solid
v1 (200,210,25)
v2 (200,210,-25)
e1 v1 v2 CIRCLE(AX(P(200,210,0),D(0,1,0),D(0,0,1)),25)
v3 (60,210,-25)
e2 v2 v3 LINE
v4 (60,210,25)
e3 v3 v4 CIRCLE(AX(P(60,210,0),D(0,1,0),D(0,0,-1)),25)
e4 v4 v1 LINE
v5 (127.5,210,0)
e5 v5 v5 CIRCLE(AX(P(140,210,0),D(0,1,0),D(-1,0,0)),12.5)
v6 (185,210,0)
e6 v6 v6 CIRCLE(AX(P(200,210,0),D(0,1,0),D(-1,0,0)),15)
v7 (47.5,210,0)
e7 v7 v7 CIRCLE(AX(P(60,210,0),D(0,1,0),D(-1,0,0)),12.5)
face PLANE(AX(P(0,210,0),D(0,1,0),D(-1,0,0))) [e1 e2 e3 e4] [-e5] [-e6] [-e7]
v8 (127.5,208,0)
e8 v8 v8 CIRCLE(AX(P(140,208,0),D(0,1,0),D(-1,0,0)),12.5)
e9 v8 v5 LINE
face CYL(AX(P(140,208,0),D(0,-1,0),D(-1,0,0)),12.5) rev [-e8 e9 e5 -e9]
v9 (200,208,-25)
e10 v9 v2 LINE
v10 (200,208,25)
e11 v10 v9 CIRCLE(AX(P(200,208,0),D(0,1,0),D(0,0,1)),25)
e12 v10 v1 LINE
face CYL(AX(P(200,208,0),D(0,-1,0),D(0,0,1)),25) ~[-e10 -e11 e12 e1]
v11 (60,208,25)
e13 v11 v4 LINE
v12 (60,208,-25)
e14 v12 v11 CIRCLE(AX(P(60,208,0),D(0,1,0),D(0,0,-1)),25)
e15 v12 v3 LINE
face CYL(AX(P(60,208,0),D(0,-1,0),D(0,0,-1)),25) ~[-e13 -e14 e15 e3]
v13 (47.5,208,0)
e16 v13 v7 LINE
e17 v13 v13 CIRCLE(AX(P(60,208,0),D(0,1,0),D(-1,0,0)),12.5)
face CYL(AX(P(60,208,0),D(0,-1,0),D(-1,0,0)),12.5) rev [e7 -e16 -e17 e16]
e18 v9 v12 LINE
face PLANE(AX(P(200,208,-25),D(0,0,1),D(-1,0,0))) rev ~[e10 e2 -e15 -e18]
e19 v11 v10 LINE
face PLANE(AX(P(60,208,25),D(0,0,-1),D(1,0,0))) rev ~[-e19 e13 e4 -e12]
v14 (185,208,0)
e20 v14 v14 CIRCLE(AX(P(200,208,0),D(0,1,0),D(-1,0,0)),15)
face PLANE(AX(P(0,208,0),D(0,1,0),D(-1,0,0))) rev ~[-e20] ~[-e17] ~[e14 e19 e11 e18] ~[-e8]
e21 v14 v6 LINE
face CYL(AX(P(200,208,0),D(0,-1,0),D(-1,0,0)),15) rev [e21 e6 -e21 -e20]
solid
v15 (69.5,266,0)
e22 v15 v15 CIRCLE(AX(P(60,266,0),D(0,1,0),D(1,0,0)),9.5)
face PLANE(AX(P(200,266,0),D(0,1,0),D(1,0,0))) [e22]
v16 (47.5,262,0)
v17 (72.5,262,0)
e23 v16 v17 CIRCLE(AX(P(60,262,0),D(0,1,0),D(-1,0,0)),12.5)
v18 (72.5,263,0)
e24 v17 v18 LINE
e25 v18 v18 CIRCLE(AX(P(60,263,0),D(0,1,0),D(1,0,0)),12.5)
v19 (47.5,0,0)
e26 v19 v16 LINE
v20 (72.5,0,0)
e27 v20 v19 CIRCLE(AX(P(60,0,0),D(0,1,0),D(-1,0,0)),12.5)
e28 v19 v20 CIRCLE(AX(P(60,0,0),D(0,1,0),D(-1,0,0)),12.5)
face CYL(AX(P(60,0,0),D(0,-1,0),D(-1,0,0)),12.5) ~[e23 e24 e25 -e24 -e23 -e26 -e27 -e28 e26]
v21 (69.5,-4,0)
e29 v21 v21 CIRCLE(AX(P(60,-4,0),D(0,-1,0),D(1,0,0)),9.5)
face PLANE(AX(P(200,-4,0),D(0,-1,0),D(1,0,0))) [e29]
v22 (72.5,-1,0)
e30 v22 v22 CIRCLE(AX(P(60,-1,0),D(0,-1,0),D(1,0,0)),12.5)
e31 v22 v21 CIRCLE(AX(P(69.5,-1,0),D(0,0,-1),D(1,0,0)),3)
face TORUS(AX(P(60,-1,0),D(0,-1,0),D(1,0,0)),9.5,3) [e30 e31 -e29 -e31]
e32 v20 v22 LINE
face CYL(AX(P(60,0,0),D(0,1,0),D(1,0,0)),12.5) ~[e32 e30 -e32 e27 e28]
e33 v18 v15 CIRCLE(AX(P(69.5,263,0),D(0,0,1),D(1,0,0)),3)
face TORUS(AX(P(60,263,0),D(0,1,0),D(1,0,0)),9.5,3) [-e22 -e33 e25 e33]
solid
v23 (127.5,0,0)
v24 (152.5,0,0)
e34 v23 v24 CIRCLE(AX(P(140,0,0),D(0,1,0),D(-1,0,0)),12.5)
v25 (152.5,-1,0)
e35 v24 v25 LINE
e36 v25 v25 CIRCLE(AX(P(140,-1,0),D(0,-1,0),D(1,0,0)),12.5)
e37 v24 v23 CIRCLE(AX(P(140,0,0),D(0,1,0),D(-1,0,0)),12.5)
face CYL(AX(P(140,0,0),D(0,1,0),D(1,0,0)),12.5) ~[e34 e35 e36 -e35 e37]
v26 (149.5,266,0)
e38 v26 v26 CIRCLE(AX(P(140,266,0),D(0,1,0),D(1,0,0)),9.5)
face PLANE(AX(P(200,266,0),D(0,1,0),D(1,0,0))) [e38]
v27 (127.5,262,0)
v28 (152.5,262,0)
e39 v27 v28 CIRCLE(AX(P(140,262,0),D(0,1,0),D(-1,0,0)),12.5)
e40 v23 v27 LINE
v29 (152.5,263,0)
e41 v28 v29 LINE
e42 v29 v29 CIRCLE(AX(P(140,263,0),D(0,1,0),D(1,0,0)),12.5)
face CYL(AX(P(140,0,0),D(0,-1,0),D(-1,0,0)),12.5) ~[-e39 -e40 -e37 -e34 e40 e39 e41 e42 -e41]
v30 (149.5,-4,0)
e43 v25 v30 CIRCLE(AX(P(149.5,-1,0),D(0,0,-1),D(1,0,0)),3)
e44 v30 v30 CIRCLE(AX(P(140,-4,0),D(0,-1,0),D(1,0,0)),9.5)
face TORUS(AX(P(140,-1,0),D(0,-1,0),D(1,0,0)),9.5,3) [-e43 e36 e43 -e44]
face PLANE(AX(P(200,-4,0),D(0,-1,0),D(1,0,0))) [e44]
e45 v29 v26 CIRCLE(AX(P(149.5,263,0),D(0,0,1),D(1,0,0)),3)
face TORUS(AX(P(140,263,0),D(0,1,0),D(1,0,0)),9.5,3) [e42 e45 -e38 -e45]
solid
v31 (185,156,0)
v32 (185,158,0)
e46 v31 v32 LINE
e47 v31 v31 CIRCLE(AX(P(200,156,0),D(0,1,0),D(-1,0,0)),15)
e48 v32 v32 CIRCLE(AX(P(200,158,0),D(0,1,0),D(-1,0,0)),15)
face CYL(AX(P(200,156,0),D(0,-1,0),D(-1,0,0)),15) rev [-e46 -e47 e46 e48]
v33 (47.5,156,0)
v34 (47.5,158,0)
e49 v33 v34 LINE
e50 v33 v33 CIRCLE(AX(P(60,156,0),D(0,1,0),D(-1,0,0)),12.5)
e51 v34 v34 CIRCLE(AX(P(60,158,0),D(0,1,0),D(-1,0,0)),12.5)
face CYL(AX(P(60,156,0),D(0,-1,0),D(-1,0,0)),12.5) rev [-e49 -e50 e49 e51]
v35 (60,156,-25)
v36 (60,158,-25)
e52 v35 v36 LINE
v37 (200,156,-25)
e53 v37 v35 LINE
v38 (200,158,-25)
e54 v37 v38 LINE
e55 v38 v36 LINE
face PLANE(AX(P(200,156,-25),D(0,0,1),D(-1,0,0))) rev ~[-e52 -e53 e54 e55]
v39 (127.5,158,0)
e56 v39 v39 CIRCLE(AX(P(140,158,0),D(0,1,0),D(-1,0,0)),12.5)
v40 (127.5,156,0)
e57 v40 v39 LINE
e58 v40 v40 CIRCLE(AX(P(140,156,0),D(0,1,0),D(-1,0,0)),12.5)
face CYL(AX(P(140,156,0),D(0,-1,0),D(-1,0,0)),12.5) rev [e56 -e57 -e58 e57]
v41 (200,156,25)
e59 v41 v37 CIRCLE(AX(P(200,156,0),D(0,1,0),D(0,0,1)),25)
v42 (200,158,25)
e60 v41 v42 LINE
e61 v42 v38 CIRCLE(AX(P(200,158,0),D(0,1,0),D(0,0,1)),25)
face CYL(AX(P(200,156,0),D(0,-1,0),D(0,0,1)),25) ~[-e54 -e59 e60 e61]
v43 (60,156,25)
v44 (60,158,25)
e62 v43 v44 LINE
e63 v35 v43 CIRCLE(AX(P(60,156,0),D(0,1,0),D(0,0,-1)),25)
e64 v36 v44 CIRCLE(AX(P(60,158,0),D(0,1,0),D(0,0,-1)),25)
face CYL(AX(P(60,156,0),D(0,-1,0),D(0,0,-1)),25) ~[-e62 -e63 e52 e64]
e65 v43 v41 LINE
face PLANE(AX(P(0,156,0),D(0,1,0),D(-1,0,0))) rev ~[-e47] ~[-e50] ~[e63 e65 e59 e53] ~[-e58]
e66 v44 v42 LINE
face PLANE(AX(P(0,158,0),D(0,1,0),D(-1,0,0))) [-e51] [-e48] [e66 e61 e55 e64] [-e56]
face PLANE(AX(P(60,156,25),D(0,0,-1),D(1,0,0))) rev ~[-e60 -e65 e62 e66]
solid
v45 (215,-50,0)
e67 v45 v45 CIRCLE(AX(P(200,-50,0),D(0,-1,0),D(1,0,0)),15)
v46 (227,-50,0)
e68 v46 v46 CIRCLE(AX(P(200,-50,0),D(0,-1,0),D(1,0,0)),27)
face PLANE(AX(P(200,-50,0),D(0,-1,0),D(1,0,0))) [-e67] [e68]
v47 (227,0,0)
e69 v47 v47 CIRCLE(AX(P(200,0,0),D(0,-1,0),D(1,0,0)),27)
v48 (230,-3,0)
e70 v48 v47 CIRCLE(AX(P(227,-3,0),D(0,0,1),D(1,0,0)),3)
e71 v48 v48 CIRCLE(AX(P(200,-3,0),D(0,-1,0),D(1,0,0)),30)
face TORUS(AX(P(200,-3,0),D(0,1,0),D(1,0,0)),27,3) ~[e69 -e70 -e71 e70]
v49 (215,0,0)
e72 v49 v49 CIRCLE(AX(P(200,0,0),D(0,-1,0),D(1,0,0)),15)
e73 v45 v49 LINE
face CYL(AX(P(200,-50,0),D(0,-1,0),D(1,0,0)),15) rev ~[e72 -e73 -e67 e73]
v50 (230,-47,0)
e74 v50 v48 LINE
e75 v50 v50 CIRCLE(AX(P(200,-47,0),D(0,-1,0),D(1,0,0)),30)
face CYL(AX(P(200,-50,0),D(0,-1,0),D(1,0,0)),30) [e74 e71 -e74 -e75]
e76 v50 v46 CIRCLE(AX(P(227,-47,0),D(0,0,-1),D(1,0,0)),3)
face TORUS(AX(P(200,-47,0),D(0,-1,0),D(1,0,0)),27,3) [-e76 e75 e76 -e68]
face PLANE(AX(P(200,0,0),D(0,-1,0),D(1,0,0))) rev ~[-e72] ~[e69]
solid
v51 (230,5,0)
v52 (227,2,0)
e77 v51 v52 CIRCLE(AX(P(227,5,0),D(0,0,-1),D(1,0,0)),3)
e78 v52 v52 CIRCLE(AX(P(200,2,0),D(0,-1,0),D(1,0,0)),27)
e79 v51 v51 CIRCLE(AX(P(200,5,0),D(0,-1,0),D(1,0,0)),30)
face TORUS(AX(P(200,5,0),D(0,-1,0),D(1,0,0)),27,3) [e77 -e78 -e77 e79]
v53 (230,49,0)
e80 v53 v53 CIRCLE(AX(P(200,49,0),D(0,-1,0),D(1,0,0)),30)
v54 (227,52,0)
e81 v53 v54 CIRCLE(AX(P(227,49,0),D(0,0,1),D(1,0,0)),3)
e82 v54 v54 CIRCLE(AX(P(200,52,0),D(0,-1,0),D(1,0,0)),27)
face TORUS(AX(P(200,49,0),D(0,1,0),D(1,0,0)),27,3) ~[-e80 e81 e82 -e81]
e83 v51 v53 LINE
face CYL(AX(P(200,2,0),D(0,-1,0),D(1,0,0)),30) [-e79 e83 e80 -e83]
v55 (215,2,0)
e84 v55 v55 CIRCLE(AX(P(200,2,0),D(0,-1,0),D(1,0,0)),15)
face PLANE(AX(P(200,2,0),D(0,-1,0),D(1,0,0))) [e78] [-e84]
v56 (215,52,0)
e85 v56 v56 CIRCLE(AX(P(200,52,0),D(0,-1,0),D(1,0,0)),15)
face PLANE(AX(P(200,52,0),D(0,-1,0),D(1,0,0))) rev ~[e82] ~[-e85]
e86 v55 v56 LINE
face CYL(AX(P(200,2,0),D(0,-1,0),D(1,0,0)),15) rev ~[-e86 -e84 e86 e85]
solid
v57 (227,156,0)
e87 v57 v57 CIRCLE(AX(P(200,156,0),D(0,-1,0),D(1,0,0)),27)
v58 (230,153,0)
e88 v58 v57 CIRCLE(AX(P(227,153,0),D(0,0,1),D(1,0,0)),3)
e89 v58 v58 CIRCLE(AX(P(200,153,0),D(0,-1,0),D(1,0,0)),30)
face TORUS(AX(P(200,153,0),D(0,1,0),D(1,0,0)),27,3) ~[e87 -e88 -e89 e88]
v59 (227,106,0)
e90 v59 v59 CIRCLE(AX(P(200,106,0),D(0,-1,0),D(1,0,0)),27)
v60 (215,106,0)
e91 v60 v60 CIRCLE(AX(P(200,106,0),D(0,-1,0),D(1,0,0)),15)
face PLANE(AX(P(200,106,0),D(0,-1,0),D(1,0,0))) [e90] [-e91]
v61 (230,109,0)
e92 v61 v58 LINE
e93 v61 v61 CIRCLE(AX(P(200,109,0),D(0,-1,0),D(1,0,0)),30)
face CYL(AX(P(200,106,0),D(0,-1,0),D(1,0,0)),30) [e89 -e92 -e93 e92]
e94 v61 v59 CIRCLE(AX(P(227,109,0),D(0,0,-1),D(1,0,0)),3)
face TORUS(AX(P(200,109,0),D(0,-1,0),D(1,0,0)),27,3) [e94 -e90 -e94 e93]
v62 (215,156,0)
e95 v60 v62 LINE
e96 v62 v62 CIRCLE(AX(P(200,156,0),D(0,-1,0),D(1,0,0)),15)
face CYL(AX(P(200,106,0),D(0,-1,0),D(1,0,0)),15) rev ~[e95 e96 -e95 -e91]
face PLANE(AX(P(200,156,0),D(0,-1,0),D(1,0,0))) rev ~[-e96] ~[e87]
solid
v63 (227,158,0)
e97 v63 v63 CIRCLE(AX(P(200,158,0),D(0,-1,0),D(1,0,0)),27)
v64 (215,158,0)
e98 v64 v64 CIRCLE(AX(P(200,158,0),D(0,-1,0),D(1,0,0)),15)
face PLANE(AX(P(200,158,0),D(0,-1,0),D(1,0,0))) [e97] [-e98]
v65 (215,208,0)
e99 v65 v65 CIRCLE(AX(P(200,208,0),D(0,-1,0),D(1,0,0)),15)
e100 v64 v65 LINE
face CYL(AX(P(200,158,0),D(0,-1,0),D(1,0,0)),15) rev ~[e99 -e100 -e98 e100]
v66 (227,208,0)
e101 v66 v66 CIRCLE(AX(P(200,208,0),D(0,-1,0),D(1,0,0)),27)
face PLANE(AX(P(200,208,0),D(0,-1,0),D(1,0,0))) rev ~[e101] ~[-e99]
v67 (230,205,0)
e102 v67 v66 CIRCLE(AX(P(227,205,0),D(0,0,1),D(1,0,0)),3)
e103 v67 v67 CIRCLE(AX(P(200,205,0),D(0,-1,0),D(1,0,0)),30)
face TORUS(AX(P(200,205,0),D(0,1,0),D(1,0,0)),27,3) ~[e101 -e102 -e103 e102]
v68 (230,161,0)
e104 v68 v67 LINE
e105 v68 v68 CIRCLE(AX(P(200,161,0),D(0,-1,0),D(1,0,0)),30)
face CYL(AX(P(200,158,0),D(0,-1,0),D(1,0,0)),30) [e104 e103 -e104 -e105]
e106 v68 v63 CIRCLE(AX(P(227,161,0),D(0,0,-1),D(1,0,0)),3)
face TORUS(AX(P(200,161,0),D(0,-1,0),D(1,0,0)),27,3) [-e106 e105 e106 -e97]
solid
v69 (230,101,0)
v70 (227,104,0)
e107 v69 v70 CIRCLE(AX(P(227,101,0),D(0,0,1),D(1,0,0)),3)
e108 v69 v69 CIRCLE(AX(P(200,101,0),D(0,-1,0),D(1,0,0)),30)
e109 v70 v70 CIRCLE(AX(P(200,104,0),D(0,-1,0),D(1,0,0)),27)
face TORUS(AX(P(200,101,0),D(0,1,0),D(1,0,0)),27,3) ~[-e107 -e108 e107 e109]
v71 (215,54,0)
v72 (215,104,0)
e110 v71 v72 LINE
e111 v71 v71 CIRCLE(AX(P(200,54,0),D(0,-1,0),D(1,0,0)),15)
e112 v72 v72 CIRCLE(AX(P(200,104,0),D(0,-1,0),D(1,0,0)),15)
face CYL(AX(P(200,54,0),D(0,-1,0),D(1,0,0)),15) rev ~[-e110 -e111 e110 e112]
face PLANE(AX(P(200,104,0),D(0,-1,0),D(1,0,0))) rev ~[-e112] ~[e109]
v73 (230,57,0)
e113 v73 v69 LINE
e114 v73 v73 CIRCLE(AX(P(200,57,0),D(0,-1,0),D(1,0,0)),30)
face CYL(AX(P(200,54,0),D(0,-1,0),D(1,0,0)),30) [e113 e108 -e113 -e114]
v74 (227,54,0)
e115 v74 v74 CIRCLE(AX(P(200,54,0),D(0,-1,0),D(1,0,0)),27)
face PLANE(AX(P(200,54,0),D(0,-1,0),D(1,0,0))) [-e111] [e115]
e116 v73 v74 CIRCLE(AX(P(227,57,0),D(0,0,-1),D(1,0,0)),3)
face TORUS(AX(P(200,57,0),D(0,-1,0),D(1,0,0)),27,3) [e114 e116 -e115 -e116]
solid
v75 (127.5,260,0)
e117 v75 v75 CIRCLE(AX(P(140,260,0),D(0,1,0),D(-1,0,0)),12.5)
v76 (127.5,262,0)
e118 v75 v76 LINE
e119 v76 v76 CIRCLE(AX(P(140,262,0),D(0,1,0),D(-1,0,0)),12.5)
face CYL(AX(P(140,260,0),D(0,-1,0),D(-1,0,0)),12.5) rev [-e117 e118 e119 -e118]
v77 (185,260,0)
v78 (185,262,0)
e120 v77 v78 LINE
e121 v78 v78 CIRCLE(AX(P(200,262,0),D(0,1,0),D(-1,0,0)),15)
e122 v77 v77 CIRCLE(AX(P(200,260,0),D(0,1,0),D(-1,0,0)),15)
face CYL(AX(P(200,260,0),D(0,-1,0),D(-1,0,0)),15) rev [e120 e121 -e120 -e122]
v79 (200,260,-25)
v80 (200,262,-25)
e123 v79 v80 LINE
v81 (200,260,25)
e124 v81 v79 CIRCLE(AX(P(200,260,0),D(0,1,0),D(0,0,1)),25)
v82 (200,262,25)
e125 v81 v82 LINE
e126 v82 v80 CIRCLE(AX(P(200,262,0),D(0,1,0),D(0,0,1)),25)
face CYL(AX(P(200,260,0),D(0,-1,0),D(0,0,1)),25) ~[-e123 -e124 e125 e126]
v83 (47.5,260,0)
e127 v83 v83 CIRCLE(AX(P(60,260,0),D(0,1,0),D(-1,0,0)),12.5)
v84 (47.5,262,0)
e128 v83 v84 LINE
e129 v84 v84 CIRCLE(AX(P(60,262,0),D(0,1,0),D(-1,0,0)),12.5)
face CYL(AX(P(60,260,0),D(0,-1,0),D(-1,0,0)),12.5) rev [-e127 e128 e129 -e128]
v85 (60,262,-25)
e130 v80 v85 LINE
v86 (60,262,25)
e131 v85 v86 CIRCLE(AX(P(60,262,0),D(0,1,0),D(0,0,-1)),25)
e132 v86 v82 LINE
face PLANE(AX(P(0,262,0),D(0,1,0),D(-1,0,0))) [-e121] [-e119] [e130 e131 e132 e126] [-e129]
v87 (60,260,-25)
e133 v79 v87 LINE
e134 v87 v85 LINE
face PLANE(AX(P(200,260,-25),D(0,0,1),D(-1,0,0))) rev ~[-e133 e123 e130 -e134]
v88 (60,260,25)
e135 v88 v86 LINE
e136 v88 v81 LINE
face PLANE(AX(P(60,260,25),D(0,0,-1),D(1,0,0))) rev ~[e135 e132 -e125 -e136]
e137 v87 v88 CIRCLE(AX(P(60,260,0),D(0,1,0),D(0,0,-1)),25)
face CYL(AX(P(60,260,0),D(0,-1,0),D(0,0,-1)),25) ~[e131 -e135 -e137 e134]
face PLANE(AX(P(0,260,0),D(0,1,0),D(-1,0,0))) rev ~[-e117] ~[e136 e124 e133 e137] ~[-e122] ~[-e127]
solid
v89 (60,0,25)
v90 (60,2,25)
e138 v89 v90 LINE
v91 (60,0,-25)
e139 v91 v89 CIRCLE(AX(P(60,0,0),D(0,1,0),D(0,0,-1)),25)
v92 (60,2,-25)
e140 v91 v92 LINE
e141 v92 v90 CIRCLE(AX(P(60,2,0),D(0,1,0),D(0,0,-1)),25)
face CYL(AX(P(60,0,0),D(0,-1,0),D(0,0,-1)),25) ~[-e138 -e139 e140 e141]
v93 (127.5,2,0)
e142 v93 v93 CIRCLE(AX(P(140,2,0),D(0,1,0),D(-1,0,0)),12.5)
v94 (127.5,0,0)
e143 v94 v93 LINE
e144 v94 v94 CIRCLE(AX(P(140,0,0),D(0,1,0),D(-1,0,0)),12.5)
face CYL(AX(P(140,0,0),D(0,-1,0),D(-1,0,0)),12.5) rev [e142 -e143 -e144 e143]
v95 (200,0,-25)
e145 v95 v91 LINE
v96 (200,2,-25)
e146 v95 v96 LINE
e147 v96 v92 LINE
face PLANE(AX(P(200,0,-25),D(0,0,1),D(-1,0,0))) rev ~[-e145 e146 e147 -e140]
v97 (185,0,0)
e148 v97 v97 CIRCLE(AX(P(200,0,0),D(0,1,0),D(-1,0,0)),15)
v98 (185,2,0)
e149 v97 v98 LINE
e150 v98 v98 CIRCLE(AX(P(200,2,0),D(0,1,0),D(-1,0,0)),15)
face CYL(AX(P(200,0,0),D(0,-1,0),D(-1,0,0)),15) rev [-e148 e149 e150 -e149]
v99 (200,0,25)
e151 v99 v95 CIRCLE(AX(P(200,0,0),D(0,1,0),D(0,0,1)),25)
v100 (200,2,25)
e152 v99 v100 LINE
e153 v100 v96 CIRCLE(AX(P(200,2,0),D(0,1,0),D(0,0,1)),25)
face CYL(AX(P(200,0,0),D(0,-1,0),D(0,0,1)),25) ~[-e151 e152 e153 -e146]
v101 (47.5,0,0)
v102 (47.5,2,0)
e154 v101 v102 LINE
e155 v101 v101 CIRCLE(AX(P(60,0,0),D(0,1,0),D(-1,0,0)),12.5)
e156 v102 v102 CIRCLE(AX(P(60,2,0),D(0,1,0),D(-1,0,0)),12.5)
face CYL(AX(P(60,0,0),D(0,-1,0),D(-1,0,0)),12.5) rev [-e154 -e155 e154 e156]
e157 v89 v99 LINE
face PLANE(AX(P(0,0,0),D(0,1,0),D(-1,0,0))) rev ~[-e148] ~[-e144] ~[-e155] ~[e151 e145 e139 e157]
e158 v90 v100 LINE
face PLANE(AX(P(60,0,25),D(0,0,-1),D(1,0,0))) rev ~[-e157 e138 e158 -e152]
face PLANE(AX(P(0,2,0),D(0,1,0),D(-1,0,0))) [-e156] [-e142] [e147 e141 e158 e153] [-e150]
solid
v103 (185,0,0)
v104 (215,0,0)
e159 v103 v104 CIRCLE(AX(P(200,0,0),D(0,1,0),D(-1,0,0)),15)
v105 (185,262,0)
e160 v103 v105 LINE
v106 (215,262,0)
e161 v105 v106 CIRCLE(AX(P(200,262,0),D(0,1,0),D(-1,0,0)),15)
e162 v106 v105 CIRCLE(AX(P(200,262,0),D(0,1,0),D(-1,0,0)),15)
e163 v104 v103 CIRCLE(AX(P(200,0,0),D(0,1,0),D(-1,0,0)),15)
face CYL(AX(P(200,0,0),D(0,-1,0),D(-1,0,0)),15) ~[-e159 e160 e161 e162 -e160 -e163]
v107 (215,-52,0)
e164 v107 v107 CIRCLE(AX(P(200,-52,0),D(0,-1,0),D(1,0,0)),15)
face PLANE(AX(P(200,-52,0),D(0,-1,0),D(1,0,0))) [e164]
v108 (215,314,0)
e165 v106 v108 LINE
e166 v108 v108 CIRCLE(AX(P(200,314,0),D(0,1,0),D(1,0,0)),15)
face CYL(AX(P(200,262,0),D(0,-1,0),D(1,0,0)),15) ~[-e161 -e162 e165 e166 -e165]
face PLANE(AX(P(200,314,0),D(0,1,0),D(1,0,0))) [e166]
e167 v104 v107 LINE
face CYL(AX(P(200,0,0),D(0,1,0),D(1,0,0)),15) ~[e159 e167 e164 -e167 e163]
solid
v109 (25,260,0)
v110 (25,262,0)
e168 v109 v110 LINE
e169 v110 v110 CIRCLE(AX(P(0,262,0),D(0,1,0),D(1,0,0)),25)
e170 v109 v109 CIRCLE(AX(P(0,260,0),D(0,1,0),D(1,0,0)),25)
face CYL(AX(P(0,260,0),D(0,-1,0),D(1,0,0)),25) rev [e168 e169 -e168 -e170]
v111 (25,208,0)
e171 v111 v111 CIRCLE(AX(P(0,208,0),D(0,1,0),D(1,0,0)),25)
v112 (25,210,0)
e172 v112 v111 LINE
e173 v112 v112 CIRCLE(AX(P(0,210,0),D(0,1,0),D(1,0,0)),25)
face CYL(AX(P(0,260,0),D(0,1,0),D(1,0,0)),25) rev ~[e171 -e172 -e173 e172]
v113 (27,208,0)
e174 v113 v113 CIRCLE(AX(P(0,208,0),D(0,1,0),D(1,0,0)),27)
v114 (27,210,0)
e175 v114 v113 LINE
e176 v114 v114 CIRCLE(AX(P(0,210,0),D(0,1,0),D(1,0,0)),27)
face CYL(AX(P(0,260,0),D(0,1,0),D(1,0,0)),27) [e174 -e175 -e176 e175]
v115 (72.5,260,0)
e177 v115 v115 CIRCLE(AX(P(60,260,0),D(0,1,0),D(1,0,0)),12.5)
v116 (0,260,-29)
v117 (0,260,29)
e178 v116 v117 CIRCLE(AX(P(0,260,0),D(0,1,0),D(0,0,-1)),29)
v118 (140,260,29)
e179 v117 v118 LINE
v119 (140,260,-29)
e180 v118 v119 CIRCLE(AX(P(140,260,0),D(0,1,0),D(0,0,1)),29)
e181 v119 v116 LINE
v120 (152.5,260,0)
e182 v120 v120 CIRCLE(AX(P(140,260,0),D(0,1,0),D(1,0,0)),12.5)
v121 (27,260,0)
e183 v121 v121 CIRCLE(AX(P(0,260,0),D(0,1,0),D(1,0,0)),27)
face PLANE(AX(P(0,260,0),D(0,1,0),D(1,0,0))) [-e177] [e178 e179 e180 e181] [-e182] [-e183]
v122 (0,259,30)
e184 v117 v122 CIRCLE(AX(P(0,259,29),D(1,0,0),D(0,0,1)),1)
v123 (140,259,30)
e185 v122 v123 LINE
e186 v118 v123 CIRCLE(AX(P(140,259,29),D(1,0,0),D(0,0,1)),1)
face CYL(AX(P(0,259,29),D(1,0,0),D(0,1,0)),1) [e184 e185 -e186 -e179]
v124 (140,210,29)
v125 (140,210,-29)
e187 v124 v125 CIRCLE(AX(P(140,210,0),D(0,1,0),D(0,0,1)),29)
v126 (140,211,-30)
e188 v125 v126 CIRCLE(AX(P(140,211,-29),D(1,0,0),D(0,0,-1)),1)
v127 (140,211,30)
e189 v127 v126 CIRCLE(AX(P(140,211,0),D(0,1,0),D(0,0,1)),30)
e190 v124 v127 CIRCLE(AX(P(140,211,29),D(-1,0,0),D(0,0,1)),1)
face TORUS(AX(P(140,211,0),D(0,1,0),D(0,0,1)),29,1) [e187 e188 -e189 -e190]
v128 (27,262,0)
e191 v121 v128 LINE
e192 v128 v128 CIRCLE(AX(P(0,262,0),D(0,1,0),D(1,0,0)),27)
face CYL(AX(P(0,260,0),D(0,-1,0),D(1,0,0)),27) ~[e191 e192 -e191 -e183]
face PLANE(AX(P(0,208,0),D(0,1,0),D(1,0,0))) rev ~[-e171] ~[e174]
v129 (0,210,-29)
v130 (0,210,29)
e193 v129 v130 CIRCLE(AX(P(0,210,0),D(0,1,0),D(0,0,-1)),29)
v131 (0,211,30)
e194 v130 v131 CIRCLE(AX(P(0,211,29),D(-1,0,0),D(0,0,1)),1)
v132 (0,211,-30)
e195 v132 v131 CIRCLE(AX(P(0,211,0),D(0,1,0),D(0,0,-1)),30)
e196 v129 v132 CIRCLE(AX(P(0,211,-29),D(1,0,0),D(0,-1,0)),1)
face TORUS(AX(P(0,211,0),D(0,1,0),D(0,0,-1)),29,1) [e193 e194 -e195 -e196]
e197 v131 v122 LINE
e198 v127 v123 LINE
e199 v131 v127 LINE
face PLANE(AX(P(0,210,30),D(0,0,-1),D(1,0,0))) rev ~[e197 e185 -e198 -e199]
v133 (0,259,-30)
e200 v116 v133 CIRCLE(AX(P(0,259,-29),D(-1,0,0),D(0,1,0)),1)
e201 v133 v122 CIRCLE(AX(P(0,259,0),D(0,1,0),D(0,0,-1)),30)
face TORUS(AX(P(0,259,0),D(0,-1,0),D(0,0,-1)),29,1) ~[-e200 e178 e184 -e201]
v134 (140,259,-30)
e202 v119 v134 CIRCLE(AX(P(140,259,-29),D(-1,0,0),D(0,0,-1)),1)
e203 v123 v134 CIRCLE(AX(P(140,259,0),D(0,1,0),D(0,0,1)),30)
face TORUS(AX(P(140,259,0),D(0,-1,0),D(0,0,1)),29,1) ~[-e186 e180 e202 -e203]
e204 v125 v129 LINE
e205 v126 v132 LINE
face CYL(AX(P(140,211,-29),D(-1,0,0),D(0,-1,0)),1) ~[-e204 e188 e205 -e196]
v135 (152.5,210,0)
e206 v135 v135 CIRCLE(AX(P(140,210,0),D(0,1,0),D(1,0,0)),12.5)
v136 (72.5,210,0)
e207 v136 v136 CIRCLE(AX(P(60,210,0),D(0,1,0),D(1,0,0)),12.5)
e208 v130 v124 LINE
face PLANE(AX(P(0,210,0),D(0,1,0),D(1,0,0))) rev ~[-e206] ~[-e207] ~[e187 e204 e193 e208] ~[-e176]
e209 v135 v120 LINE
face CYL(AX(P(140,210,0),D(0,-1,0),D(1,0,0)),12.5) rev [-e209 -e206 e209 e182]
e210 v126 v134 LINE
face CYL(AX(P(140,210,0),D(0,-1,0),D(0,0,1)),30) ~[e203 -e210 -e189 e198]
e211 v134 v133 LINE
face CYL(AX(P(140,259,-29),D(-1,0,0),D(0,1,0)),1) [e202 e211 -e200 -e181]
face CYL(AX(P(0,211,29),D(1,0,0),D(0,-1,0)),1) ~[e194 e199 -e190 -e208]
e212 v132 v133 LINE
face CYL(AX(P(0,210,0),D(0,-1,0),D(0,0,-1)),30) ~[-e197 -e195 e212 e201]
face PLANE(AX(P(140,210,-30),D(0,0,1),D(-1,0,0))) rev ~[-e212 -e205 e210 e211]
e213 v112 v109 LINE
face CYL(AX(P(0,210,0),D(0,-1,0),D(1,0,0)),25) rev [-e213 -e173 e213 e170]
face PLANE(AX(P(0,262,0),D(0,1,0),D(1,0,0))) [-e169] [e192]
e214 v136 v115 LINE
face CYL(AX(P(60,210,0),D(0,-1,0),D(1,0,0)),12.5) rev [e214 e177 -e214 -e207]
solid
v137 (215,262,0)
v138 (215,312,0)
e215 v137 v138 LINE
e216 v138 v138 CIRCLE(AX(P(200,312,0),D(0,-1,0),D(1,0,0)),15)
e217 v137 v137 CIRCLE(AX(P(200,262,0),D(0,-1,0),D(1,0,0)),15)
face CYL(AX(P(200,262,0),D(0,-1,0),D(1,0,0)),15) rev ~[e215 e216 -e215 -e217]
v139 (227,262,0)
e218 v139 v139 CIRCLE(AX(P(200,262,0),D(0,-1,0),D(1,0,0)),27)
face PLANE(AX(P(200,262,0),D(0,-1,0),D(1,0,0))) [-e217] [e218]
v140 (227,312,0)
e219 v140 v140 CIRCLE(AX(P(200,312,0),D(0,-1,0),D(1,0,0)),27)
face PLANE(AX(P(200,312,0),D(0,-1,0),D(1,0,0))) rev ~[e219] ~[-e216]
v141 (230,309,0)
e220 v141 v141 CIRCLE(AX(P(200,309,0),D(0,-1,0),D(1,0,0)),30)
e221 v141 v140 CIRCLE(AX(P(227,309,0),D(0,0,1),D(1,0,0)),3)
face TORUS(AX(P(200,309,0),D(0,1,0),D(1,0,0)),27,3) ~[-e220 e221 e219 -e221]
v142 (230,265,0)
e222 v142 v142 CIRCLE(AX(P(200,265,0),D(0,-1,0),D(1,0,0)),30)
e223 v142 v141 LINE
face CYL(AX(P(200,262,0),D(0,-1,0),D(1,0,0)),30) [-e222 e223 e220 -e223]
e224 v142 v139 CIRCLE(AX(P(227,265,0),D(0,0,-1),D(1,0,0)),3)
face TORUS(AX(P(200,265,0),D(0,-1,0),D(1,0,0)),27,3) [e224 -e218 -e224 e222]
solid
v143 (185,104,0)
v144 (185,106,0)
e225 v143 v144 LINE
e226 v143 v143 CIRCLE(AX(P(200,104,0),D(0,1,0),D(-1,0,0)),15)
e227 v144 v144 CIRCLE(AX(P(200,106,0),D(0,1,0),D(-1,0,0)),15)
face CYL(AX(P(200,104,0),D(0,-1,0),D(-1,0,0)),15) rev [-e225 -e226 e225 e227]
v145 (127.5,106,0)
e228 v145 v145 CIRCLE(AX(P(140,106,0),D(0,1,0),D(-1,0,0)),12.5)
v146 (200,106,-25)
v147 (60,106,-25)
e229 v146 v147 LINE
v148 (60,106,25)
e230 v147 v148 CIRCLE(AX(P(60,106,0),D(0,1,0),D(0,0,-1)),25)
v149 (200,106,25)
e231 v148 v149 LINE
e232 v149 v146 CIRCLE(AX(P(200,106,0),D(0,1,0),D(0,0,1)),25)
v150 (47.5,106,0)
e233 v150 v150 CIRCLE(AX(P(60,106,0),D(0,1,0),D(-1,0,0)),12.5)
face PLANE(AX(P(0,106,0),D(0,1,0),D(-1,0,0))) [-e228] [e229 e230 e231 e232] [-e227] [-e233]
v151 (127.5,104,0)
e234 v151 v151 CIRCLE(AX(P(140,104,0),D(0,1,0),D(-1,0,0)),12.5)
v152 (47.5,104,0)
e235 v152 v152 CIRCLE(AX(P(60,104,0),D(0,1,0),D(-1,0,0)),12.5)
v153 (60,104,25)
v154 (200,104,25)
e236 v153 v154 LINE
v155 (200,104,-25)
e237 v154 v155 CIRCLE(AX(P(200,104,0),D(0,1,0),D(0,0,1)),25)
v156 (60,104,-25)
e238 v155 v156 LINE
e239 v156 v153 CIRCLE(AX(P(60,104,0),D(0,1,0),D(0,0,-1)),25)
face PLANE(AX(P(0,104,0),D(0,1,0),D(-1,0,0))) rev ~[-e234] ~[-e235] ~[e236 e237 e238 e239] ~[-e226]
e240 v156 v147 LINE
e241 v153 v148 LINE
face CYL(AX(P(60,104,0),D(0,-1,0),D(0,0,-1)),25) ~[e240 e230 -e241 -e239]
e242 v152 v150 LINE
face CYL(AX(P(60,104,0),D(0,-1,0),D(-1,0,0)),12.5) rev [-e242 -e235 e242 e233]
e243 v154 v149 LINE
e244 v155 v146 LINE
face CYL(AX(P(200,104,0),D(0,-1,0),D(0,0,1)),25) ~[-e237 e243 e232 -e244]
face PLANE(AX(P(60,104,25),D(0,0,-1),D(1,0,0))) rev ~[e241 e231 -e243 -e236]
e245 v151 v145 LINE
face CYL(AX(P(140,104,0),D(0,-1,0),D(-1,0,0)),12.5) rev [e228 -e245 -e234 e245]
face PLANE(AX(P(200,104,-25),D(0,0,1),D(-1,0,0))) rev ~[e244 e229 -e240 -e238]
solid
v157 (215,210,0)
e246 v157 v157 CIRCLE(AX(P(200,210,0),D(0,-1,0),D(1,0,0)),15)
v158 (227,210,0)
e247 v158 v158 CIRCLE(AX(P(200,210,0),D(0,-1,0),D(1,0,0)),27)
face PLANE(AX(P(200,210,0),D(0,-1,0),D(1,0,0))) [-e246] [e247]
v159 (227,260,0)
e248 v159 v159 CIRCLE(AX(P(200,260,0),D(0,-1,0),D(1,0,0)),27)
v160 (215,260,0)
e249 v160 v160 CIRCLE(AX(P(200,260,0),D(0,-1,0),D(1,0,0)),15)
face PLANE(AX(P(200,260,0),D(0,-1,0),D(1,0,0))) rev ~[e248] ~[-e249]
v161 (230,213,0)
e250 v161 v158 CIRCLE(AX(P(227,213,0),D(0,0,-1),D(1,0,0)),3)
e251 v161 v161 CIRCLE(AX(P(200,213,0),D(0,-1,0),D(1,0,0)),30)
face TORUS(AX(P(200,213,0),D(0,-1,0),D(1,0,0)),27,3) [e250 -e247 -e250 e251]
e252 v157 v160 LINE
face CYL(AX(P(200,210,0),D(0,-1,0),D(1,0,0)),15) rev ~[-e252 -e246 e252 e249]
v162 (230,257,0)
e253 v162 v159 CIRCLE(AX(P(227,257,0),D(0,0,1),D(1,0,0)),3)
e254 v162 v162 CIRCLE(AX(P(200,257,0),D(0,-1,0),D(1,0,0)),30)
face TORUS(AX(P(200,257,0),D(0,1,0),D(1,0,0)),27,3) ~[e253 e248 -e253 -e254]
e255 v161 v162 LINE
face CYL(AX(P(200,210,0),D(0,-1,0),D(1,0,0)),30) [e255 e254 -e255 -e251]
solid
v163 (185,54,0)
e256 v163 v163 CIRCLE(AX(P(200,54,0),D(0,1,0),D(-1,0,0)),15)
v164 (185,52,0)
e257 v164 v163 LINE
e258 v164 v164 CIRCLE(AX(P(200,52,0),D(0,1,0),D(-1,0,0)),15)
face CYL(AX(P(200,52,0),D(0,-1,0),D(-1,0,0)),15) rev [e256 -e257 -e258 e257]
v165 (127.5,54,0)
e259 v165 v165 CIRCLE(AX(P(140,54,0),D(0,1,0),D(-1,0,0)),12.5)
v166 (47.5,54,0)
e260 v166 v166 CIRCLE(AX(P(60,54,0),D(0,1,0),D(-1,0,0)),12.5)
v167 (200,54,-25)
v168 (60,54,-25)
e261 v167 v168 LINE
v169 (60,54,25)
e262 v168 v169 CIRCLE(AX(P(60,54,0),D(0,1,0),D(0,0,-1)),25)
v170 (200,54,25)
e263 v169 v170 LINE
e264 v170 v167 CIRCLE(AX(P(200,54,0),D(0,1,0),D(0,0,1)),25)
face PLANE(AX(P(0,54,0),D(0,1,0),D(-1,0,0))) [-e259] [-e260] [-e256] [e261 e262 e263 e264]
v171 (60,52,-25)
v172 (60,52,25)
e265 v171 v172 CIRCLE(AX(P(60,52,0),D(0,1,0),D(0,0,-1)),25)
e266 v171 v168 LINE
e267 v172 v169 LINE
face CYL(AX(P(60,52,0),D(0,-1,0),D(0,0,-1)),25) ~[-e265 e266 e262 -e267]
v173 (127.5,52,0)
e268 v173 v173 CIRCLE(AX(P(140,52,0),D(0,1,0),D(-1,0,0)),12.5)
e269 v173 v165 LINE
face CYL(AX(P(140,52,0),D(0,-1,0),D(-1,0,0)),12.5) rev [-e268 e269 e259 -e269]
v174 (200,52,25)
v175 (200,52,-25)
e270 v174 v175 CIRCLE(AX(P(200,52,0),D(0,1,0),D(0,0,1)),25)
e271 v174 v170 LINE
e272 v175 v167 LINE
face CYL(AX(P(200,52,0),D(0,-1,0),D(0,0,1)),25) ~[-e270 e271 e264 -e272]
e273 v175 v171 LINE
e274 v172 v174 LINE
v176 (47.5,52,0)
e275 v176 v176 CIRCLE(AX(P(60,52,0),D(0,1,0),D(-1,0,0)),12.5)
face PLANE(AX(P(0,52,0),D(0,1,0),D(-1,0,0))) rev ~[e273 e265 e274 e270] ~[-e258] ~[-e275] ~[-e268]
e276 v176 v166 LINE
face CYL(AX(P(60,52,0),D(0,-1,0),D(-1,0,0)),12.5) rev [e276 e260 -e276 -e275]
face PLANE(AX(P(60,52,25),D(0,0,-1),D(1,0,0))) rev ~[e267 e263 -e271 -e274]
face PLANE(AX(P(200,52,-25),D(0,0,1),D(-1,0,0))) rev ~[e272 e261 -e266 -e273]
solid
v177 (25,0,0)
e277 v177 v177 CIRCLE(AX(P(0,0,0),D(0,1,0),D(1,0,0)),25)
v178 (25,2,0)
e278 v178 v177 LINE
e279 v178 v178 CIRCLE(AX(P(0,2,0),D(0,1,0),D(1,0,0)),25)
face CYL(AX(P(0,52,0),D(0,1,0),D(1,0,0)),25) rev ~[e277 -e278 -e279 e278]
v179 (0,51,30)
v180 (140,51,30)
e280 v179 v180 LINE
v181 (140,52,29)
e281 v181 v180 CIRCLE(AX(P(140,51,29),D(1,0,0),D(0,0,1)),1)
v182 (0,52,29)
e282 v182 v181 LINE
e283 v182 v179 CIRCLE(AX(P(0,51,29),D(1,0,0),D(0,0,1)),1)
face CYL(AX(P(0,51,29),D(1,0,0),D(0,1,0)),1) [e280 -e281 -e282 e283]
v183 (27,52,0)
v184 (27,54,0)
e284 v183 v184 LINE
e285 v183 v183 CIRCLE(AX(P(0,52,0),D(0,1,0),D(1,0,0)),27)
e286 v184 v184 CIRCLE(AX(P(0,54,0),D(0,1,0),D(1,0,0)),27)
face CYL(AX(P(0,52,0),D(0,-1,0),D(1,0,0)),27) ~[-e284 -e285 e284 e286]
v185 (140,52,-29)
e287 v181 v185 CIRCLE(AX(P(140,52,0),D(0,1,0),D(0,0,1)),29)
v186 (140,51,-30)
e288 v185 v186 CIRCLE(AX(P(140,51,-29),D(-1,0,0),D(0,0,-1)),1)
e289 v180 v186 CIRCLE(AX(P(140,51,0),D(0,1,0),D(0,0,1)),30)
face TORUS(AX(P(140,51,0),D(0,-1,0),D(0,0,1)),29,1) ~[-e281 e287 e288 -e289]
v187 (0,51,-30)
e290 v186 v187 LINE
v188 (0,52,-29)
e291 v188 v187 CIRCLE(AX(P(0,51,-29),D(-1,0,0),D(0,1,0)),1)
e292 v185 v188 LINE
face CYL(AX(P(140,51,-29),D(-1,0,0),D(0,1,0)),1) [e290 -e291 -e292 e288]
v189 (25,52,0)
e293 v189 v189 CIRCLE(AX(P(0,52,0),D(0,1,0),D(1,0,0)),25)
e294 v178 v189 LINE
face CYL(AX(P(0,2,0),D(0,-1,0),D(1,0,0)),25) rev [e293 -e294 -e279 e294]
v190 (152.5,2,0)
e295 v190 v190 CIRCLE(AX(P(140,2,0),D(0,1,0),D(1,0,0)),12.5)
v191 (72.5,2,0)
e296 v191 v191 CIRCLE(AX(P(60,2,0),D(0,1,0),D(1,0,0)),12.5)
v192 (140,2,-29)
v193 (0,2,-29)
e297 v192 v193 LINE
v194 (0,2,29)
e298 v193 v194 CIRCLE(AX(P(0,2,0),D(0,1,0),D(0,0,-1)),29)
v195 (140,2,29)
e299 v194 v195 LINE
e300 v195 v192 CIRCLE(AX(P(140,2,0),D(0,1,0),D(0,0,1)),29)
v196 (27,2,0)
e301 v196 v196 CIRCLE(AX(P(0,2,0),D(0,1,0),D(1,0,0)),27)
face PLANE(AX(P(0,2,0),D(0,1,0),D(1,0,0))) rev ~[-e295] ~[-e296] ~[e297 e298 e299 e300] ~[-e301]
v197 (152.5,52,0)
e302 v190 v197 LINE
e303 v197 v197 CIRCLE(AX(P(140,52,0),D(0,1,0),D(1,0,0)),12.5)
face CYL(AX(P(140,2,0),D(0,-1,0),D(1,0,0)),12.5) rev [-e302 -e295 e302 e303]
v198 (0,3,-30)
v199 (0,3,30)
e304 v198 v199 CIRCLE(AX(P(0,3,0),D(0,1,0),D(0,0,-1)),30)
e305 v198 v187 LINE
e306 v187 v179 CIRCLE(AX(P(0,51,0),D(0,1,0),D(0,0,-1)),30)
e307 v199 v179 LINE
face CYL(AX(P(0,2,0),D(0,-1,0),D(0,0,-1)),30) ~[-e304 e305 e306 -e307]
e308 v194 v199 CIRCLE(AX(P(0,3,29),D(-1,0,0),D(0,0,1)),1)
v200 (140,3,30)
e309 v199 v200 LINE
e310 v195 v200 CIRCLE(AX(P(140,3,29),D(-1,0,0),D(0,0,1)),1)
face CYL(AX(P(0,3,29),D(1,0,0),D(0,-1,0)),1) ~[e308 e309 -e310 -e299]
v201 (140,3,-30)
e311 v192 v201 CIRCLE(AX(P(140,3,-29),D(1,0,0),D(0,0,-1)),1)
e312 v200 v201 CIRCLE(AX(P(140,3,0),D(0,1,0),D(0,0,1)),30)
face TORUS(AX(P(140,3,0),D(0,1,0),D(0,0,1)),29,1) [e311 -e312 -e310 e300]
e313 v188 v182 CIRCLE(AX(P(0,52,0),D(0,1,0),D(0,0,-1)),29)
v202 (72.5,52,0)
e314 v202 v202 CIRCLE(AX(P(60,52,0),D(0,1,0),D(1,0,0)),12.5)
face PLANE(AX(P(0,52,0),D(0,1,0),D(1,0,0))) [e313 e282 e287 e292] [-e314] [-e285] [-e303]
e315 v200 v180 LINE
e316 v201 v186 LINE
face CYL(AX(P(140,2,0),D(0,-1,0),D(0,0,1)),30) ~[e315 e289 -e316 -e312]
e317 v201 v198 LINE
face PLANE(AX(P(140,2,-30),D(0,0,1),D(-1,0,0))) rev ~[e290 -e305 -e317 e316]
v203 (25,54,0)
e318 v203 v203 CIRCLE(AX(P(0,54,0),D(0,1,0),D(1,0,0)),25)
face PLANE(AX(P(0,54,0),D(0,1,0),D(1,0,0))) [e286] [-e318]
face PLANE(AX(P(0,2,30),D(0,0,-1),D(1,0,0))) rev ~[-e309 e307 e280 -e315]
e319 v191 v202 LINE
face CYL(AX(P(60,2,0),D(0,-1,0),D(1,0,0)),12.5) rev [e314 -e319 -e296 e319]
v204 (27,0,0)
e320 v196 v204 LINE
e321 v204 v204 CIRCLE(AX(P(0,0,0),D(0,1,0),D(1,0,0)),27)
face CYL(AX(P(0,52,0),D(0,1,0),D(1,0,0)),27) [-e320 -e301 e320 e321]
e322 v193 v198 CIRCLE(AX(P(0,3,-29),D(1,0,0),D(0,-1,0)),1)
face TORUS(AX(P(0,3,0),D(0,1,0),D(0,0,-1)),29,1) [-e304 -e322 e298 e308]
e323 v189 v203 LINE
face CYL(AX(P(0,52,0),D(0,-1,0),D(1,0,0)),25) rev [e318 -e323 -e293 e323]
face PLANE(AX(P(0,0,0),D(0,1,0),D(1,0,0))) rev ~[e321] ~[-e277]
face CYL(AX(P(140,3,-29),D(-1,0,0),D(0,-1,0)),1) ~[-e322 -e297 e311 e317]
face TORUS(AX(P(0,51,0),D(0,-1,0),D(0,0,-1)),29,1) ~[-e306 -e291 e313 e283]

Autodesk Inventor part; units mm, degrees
ref_plane "YZ Plane" through (0, 0, 0) normal (1, 0, 0) x (0, 1, 0)
ref_plane "XZ Plane" through (0, 0, 0) normal (0, 1, 0) x (-1, 0, 0)
sketch "Sketch1" plane through (0, 0, 0) normal (0, 1, 0) x (-1, 0, 0)
  circle A0 centre (0, 0) radius 25
  circle A1 centre (-60, 0) radius 12.5
  circle A2 centre (-140, 0) radius 12.5
  circle A3 centre (-200, 0) radius 15
  line L0 (0, 0) -> (-200, 0) construction
  line L1 (-60, 0) -> (-200, 0) construction
  line L2 (-60, 25) -> (-200, 25)
  line L3 (-200, -25) -> (-60, -25)
  arc A4 (-60, -25) -> (-60, 25) centre (-60, 0) ccw
  arc A5 (-200, 25) -> (-200, -25) centre (-200, 0) ccw
  point P0 (-130, 0)
  dimension "d0" = 50
  dimension "d1" = 25
  dimension "d2" = 25
  dimension "d3" = 30
  dimension "d4" = 200
  dimension "d5" = 140
  dimension "d6" = 60
  dimension "d7" = 50
extrude "Extrusion1" add sketch "Sketch1" along normal blind 262 contours A1 | A2 | A3
extrude "Extrusion2" add sketch "Sketch1" along normal blind 2 separate body contours A4 L3 A5 L2
sketch "Sketch2" plane through (0, 2, 0) normal (0, 1, 0) x (1, 0, 0)
  circle A0 centre (0, 0) radius 25 projected
  circle A1 centre (60, 0) radius 12.5 projected
  circle A2 centre (140, 0) radius 12.5 projected
  line L0 (0, 0) -> (140, 0) construction
  line L1 (0, -30) -> (140, -30)
  line L2 (140, 30) -> (0, 30)
  arc A3 (0, 30) -> (0, -30) centre (0, 0) ccw
  arc A4 (140, -30) -> (140, 30) centre (140, 0) ccw
  point P0 (70, 0)
  dimension "d12" = 60
extrude "Extrusion3" add sketch "Sketch2" along normal blind 50 separate body
sketch "Sketch3" plane through (0, 52, 0) normal (0, 1, 0) x (1, 0, 0)
  circle A0 centre (0, 0) radius 27
  circle A1 centre (0, 0) radius 25 projected
  dimension "d15" = 2
extrude "Extrusion4" add sketch "Sketch3" along normal blind 2 and the other way blind 52 bodies 3
fillet "Fillet1" radius 1 8 edges at (170, 52, 0) (70, 52, -30) (-30, 52, 0) (70, 52, 30) (170, 2, 0) (70, 2, -30) (-30, 2, 0) (70, 2, 30)
pattern_linear "Rectangular Pattern1" count 6 spacing 52 along (0, 1, 0) bodies 2
pattern_linear "Rectangular Pattern2" count 2 spacing 208 along (0, 1, 0) bodies 3
sketch "Sketch4" plane through (200, 262, 0) normal (0, 1, 0) x (1, 0, 0)
  circle A0 centre (0, 0) radius 15 projected
  circle A1 centre (-60, 0) radius 12.5 projected
  circle A2 centre (-140, 0) radius 12.5 projected
  point P0 (-200, 0)
extrude "Extrusion5" add sketch "Sketch4" along normal blind 52 contours A0 bodies 1
sketch "Sketch5" plane through (200, 0, 0) normal (0, -1, 0) x (1, 0, 0)
  circle A0 centre (0, 0) radius 15 projected
  circle A1 centre (-140, 0) radius 12.5 projected
  circle A2 centre (-60, 0) radius 12.5 projected
  point P0 (-200, 0)
extrude "Extrusion6" add sketch "Sketch5" along normal blind 52 contours A0 bodies 1
extrude "Extrusion7" add sketch "Sketch4" along normal blind 4 contours A1 | A2 bodies 1
extrude "Extrusion8" add sketch "Sketch5" along normal blind 4 contours A1 | A2 bodies 1
fillet "Fillet2" radius 3 4 edges at (47.5, 266, 0) (127.5, 266, 0) (47.5, -4, 0) (127.5, -4, 0)
sketch "Sketch6" plane through (200, -52, 0) normal (0, -1, 0) x (1, 0, 0)
  point P0 (-200, 0)
ref_plane "Work Plane1" through (200, -50, 0) normal (0, -1, 0) x (1, 0, 0)
sketch "Sketch7" plane through (200, -50, 0) normal (0, -1, 0) x (1, 0, 0)
  circle A0 centre (0, 0) radius 15 projected
  circle A1 centre (0, 0) radius 30
  point P0 (-200, 0)
  dimension "d37" = 60
extrude "Extrusion9" add sketch "Sketch7" against normal blind 50 separate body
fillet "Fillet3" radius 3 2 edges at (170, 0, 0) (170, -50, 0)
pattern_linear "Rectangular Pattern3" count 7 spacing 52 along (0, 1, 0) bodies 4
properties part number "TILES GRIP ROLLERS"
